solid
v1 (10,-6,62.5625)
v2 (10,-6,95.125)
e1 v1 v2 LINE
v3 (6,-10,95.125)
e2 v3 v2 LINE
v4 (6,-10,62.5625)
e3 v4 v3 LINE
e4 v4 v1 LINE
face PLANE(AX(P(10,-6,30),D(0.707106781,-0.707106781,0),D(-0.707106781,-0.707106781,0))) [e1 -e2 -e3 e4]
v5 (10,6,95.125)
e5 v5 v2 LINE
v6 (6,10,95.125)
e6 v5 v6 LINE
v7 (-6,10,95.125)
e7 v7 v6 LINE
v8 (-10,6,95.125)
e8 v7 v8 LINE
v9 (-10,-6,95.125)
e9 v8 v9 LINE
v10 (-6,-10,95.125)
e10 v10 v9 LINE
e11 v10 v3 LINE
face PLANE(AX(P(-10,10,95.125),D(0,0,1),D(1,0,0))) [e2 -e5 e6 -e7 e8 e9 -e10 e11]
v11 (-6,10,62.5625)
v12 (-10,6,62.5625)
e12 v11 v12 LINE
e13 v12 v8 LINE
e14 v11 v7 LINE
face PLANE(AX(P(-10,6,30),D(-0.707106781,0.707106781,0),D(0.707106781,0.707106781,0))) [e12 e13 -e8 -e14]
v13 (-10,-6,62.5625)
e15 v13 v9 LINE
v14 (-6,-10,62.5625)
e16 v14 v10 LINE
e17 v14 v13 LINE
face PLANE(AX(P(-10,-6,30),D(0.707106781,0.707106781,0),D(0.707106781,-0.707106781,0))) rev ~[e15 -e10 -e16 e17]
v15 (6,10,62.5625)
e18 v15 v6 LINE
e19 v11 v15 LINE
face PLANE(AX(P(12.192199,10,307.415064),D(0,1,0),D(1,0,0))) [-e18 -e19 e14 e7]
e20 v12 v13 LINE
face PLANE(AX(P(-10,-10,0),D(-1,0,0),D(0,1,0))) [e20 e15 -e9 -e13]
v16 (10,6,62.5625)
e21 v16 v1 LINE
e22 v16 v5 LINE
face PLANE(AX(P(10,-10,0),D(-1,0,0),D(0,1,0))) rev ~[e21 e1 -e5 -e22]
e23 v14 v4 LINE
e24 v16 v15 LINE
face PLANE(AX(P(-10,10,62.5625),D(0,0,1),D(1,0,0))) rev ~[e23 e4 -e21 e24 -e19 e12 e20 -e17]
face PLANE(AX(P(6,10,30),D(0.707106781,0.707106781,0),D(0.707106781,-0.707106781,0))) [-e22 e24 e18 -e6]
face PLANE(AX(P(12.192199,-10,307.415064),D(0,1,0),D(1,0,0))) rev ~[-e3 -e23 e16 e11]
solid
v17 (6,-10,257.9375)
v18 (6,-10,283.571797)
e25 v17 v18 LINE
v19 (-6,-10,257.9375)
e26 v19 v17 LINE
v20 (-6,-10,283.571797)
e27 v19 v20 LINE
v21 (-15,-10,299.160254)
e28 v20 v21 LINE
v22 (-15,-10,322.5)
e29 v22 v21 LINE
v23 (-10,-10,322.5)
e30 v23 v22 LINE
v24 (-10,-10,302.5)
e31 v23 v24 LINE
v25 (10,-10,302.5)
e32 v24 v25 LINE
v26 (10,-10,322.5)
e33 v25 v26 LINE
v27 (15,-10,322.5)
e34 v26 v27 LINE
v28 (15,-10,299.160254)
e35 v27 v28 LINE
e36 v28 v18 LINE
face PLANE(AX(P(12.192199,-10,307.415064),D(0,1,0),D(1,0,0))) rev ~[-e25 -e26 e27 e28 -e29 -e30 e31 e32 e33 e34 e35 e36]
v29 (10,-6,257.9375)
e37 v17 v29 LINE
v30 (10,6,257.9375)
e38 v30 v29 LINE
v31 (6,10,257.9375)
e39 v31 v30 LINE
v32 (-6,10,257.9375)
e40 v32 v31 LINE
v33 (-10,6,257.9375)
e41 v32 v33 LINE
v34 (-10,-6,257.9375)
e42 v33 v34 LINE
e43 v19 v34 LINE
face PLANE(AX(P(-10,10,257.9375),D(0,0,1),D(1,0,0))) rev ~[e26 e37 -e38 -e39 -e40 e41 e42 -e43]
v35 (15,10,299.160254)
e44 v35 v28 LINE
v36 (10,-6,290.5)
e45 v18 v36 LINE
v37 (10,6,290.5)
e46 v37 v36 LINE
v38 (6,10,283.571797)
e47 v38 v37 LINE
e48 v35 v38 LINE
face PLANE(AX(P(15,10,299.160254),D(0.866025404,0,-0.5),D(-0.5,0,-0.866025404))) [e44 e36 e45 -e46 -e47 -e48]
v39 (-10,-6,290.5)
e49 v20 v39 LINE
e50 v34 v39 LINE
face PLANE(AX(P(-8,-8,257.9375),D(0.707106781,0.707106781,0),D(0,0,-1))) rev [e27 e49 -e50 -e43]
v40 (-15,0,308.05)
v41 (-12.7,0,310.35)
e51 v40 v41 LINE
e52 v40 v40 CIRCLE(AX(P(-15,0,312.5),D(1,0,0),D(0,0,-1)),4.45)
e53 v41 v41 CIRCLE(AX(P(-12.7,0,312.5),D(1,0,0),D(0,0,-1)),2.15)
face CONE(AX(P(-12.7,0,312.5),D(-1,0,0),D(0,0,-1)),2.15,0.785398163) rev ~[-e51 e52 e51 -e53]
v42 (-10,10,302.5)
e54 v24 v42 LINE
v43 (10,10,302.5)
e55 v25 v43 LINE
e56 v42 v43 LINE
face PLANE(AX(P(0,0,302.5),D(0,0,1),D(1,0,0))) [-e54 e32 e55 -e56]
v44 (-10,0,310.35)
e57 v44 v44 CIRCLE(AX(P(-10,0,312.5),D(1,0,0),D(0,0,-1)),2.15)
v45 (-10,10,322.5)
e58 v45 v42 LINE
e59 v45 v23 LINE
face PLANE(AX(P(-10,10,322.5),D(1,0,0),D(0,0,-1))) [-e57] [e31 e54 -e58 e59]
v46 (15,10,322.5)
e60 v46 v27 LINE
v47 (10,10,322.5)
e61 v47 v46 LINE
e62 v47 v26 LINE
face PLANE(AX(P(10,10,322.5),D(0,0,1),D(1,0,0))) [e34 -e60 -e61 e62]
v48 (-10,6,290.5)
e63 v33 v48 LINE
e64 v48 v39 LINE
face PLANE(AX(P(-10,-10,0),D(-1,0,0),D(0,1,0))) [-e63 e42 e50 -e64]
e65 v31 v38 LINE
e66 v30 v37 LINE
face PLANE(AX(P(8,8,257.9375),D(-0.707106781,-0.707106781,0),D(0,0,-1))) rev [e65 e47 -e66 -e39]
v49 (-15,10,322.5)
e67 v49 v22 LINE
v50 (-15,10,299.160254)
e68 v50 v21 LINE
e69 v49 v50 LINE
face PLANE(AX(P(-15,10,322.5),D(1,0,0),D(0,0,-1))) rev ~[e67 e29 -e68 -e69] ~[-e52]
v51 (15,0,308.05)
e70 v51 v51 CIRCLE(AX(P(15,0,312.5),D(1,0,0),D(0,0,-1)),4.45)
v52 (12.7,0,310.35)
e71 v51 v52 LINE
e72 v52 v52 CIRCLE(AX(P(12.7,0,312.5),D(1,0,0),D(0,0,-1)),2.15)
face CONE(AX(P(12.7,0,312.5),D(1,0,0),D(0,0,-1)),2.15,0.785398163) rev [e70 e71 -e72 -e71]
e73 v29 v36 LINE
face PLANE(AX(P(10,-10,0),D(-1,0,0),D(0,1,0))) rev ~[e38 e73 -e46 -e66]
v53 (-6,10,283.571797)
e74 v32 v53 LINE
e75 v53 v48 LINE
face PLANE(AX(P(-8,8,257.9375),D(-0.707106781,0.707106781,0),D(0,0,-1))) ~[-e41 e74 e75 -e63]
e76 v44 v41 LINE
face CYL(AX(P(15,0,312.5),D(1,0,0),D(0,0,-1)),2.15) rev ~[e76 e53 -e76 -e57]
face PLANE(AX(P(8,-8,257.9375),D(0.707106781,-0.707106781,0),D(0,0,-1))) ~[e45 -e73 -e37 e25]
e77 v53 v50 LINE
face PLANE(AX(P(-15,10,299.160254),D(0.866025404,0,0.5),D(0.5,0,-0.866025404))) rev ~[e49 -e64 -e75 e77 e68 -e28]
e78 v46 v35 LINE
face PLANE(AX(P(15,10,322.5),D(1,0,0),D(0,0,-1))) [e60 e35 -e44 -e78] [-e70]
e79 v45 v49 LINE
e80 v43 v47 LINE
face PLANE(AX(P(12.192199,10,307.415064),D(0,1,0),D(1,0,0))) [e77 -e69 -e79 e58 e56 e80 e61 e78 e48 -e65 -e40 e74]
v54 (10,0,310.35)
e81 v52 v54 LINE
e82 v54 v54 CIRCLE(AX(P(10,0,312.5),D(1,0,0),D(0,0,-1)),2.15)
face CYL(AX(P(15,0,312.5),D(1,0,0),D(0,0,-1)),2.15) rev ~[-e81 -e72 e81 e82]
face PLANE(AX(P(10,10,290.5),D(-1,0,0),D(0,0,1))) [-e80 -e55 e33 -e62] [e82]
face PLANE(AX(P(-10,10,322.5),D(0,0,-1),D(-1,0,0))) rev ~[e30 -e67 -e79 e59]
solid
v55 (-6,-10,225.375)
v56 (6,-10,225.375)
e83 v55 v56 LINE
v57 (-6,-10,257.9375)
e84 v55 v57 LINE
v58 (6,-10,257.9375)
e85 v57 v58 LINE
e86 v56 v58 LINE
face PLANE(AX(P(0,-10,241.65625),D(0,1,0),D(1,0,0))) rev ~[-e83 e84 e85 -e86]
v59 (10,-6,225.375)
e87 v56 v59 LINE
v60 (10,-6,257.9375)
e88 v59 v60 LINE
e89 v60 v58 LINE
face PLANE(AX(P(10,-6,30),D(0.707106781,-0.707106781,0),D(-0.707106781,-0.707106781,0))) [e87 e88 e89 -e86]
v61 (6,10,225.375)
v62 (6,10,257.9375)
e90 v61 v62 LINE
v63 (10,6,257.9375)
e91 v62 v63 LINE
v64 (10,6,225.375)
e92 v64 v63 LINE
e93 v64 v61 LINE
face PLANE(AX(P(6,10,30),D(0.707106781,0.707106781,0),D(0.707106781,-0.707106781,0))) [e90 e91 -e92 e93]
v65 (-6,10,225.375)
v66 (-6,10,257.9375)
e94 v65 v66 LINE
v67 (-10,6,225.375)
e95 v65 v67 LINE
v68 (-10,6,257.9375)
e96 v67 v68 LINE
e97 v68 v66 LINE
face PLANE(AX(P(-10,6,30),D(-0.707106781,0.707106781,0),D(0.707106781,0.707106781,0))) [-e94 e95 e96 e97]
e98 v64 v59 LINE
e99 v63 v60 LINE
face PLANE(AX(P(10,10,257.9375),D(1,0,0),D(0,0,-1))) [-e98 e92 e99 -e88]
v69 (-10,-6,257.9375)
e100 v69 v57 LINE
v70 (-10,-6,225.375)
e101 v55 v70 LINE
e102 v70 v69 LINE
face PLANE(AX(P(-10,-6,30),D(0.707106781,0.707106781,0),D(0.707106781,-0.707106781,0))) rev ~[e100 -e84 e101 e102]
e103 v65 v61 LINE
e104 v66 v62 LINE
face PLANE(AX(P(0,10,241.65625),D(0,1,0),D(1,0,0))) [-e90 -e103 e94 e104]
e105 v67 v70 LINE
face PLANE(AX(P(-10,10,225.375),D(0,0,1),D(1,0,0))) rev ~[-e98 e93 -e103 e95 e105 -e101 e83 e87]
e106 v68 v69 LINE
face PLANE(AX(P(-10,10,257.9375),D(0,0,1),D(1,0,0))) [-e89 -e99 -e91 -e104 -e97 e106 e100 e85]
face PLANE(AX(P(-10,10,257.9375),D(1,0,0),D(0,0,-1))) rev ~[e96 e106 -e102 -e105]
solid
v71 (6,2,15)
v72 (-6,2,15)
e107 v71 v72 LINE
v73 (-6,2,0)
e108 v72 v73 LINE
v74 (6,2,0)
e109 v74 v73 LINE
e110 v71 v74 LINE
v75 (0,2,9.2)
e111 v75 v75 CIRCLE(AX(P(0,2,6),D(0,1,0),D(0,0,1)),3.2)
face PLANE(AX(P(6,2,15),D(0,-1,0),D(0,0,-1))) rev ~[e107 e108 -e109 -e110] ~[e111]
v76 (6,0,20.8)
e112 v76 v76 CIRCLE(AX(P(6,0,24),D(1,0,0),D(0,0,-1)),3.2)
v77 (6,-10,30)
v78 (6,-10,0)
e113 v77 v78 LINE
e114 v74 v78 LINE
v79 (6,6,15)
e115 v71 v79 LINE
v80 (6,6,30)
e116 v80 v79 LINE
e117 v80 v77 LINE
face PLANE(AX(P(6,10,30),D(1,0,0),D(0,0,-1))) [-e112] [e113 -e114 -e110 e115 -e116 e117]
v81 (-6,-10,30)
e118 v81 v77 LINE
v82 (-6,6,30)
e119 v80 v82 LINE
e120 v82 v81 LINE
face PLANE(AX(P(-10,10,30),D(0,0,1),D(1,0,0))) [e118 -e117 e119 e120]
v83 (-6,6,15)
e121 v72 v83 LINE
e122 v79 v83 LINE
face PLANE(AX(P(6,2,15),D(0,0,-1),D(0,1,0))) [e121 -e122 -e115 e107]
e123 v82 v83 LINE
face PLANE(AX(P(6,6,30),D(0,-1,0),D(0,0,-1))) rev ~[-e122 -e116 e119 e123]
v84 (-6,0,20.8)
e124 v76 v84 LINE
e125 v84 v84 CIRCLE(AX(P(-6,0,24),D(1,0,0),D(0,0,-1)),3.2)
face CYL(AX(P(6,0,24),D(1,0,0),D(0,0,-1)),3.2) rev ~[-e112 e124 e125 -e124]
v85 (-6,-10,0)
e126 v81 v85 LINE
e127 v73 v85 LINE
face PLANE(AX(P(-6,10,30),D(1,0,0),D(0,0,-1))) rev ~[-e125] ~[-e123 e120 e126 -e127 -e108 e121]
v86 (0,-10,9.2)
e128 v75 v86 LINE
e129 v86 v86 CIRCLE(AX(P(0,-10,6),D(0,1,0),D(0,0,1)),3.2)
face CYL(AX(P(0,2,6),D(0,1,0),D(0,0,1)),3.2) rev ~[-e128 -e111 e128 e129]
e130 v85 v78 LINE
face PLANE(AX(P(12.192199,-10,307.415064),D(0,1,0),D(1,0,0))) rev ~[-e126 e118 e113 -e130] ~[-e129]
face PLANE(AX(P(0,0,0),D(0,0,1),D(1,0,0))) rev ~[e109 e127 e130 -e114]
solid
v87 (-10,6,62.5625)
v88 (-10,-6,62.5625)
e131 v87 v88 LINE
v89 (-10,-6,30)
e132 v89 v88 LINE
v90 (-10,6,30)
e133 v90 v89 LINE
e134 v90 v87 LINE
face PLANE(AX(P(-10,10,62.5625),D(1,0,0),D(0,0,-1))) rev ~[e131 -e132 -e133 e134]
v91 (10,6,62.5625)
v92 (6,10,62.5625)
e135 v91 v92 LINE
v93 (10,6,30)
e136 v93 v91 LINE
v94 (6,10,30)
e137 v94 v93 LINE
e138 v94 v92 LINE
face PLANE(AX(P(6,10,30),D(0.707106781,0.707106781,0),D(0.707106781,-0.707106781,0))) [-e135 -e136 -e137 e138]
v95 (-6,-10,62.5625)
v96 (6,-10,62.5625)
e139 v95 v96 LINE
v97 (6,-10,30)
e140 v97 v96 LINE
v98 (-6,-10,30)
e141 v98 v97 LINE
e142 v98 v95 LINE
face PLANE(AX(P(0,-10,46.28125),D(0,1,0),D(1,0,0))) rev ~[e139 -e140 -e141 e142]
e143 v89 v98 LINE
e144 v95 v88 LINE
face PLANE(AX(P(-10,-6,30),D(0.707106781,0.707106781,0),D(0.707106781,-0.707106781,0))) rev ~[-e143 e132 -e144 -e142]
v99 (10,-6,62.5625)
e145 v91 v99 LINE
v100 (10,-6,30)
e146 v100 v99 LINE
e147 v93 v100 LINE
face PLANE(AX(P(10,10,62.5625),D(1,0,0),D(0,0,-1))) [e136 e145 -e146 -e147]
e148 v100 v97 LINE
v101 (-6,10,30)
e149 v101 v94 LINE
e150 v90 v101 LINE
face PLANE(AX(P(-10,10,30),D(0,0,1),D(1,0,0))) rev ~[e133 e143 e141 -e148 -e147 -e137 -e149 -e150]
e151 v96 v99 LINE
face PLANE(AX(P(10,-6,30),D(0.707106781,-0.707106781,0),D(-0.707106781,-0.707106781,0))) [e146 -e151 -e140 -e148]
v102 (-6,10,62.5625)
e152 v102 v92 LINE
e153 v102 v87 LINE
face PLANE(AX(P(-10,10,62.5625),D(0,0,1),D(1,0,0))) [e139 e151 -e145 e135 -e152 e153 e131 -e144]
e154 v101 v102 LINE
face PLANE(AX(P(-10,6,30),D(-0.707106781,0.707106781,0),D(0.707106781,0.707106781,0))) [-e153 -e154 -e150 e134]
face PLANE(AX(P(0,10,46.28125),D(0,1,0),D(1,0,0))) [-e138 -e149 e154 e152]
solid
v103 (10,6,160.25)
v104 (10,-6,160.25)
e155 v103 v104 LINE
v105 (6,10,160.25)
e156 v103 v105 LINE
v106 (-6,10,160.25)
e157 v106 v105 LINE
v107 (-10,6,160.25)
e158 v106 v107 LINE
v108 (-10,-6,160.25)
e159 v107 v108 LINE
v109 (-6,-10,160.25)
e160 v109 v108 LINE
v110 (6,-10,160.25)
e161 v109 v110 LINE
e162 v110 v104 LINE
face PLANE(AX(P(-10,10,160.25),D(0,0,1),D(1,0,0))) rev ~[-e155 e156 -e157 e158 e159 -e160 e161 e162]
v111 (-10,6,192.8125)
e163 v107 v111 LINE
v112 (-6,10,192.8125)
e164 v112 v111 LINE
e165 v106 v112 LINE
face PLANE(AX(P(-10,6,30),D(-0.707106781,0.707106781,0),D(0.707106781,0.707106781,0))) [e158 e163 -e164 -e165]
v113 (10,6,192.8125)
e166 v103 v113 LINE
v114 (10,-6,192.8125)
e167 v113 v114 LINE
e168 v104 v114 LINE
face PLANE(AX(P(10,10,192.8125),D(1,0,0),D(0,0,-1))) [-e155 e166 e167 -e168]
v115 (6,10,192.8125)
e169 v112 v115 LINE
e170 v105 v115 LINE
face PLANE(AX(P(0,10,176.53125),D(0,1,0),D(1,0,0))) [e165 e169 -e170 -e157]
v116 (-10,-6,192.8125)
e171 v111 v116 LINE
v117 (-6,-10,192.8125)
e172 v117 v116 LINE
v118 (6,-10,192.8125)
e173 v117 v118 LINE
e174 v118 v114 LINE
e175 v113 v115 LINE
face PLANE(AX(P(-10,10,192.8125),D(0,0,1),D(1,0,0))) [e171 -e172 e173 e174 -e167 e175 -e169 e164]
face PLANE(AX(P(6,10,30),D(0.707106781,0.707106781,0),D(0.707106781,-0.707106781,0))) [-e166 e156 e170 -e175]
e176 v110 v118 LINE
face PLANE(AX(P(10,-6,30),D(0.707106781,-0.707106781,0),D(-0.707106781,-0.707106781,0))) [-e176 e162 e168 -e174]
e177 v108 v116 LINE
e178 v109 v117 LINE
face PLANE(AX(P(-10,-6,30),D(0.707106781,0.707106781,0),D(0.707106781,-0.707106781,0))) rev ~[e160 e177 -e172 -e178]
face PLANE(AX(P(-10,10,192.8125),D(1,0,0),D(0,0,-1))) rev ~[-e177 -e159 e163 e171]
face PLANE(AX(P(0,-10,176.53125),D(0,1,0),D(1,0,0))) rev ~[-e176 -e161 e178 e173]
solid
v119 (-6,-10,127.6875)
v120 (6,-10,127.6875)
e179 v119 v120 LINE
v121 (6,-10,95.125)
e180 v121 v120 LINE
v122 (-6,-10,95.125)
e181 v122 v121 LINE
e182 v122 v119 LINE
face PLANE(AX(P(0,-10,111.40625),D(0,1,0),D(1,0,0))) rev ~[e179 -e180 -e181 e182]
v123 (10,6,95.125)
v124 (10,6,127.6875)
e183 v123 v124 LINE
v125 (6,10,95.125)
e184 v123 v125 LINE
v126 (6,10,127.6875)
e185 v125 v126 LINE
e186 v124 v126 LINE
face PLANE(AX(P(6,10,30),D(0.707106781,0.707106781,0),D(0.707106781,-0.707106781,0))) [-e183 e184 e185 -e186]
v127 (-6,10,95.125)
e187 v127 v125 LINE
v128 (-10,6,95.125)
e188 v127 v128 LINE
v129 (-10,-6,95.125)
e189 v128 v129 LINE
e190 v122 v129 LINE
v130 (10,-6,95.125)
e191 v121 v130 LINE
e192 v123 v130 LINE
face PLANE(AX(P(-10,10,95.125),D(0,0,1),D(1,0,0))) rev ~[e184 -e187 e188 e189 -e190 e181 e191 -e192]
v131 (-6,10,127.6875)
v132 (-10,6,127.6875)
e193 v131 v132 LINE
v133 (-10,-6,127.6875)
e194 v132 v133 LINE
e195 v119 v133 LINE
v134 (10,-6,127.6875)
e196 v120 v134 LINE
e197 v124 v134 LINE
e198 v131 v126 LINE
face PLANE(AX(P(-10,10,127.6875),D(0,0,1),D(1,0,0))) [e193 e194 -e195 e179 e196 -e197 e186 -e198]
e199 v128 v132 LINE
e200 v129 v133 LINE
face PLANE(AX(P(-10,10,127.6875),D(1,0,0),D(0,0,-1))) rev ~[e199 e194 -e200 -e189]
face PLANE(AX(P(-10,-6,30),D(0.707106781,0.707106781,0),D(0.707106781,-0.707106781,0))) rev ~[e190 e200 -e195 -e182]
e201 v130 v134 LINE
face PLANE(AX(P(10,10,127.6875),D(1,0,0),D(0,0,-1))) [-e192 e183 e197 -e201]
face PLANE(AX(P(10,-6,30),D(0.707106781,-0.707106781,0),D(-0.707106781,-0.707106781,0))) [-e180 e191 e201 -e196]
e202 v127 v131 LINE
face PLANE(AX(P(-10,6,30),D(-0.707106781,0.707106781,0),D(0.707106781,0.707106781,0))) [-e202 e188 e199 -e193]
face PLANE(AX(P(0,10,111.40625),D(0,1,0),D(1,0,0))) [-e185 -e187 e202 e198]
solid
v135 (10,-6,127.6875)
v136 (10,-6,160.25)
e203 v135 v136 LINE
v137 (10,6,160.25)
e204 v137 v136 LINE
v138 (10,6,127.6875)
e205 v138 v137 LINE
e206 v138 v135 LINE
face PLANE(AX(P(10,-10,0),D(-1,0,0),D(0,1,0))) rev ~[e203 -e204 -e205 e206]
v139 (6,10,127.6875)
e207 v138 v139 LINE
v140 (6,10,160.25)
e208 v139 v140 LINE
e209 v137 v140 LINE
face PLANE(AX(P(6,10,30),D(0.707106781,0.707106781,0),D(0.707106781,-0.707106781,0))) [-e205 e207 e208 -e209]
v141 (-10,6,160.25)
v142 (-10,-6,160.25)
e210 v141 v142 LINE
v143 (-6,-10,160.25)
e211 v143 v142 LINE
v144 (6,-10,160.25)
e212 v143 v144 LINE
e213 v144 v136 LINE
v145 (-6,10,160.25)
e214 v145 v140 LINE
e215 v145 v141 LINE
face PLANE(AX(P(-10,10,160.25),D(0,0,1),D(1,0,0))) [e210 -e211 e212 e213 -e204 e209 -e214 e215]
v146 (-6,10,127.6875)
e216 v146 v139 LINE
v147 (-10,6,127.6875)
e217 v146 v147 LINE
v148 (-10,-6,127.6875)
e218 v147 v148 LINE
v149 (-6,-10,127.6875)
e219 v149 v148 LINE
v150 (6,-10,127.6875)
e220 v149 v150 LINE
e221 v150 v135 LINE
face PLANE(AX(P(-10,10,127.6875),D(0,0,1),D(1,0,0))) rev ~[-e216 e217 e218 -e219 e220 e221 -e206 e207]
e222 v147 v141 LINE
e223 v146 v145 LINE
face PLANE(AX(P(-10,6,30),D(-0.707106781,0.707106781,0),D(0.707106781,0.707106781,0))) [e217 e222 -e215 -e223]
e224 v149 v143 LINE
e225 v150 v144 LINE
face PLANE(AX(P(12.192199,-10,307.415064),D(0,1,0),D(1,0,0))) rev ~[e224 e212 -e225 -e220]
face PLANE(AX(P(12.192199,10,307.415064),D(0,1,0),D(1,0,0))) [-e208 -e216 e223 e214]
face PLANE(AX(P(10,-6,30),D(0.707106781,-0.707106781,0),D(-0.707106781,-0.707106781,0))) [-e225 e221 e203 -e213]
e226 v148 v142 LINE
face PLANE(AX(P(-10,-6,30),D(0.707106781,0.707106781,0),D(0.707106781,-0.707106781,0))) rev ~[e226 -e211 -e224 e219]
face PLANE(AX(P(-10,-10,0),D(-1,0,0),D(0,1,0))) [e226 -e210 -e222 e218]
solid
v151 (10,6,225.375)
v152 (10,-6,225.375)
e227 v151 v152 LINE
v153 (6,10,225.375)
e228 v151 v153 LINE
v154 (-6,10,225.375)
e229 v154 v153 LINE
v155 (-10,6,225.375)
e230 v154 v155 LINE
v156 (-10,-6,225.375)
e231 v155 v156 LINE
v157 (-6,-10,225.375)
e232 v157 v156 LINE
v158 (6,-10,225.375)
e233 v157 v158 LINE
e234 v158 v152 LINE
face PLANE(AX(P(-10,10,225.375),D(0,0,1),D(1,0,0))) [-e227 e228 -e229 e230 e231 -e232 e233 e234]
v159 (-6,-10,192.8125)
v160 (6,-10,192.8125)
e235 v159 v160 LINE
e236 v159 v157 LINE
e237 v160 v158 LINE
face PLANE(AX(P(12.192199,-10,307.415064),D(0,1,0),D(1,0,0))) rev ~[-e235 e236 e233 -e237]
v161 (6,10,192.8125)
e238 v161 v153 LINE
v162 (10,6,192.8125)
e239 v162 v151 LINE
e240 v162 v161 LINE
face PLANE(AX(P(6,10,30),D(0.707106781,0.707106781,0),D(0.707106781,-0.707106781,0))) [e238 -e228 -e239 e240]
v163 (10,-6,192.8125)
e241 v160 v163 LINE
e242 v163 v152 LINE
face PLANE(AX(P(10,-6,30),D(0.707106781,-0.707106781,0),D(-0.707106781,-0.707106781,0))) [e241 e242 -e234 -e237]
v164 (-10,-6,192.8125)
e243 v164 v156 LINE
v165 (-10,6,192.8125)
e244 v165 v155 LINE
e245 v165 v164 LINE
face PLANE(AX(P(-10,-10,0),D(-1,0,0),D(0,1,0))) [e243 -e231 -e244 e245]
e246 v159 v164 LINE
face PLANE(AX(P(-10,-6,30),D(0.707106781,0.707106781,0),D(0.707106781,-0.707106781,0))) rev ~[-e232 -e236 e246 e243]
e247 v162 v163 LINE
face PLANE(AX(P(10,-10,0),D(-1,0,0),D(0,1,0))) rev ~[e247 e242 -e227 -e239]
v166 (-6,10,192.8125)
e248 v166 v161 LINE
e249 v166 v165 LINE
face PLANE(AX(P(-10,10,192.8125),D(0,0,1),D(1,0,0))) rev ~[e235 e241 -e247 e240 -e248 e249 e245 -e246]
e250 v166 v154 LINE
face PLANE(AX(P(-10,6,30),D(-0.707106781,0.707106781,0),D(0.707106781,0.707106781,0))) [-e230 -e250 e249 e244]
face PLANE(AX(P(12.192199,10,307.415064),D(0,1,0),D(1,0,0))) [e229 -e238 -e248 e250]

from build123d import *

# Parameters (mm, degrees)
SKETCH1_W             = 20
SKETCH1_H             = 20
BOSS_EXTRUDE1_DEPTH   = 302.5
BOSS_EXTRUDE2_DEPTH   = 20
SKETCH3_R             = 2.15
CUT_EXTRUDE1_DEPTH    = 325.046678736
SKETCH4_W             = 4
SKETCH4_H             = 30
CUT_EXTRUDE2_DEPTH    = 324.467540875
CHAMFER1_SIZE         = 2.3
SKETCH5_W             = 15
SKETCH5_H             = 8
CUT_EXTRUDE3_DEPTH    = 324.337671792
SKETCH6_R             = 3.2
CUT_EXTRUDE4_DEPTH    = 324.071586494
SKETCH7_R             = 3.2
CUT_EXTRUDE5_DEPTH    = 324.337671792
SKETCH10_W            = 20
SKETCH10_H            = 32.5625
CUT_EXTRUDE7_DEPTH    = 324.467540875
SKETCH11_W            = 20
SKETCH11_H            = 32.5625
BOSS_EXTRUDE3_DEPTH   = 20
BOSS_EXTRUDE3_2_DEPTH = 20
BOSS_EXTRUDE3_3_DEPTH = 20
BOSS_EXTRUDE3_4_DEPTH = 20
CHAMFER3_SIZE         = 4
CUT_EXTRUDE8_DEPTH    = 227.9375
SKETCH13_W            = 15
SKETCH13_H            = 4
CUT_EXTRUDE9_DEPTH    = 324.337671792


with BuildPart() as part:
    # Sketch1 → Boss-Extrude1 (new body)
    with BuildSketch(Plane.XY):
        Rectangle(SKETCH1_W, SKETCH1_H)
    extrude(amount=BOSS_EXTRUDE1_DEPTH)

    # Sketch2 → Boss-Extrude2 (add)
    with BuildSketch(Plane(origin=(0, 10, 0), x_dir=(1, 0, 0), z_dir=(0, 1, 0))):
        Polygon((10, -302.5), (10, -322.5), (15, -322.5), (15, -299.160254038), (10, -290.5), align=None)
        Polygon((-10, -290.5), (-10, -302.5), (-10, -322.5), (-15, -322.5), (-15, -299.160254038), align=None)
    extrude(amount=-BOSS_EXTRUDE2_DEPTH)

    # Sketch3 → Cut-Extrude1 (cut, through all)
    with BuildSketch(Plane(origin=(15, 0, 0), x_dir=(0, 0, -1), z_dir=(1, 0, 0))):
        with Locations((-312.5, 0)):
            Circle(SKETCH3_R)
    extrude(amount=-CUT_EXTRUDE1_DEPTH, mode=Mode.SUBTRACT)

    # Sketch4 → Cut-Extrude2 (cut, through all)
    with BuildSketch(Plane(origin=(0, 10, 0), x_dir=(1, 0, 0), z_dir=(0, 1, 0))):
        with Locations((-8, -15)):
            Rectangle(SKETCH4_W, SKETCH4_H)
        with Locations((8, -15)):
            Rectangle(SKETCH4_W, SKETCH4_H)
    extrude(amount=-CUT_EXTRUDE2_DEPTH, mode=Mode.SUBTRACT)

    # Chamfer1
    chamfer1_edges = [part.edges().sort_by_distance(p)[0] for p in [
        (-15, 0, 314.65),
        (15, 0, 314.65),
    ]]
    chamfer(chamfer1_edges, length=CHAMFER1_SIZE)

    # Sketch5 → Cut-Extrude3 (cut, through all)
    with BuildSketch(Plane(origin=(6, 0, 0), x_dir=(0, 0, -1), z_dir=(1, 0, 0))):
        with Locations((-7.5, 6)):
            Rectangle(SKETCH5_W, SKETCH5_H)
    extrude(amount=-CUT_EXTRUDE3_DEPTH, mode=Mode.SUBTRACT)

    # Sketch6 → Cut-Extrude4 (cut, through all)
    with BuildSketch(Plane(origin=(0, 2, 0), x_dir=(1, 0, 0), z_dir=(0, 1, 0))):
        with Locations(Location((0, -6, 0), (0, 0, 270))):
            Circle(SKETCH6_R)
    extrude(amount=-CUT_EXTRUDE4_DEPTH, mode=Mode.SUBTRACT)

    # Sketch7 → Cut-Extrude5 (cut, through all)
    with BuildSketch(Plane(origin=(6, 0, 0), x_dir=(0, 0, -1), z_dir=(1, 0, 0))):
        with Locations((-24, 0)):
            Circle(SKETCH7_R)
    extrude(amount=-CUT_EXTRUDE5_DEPTH, mode=Mode.SUBTRACT)

    # Sketch10 → Cut-Extrude7 (cut, through all)
    with BuildSketch(Plane(origin=(0, 10, 0), x_dir=(1, 0, 0), z_dir=(0, 1, 0))):
        with Locations((0, -46.28125)):
            Rectangle(SKETCH10_W, SKETCH10_H)
        with Locations((0, -111.40625)):
            Rectangle(SKETCH10_W, SKETCH10_H)
        with Locations((0, -176.53125)):
            Rectangle(SKETCH10_W, SKETCH10_H)
        with Locations((0, -241.65625)):
            Rectangle(SKETCH10_W, SKETCH10_H)
    extrude(amount=-CUT_EXTRUDE7_DEPTH, mode=Mode.SUBTRACT)


with BuildPart() as cut_extrude7_piece_1:
    # of the separate pieces the step leaves, piece 1, a body of its own (cut_extrude7_pieces)
    add(part.part.solids().sort_by_distance((15, 0, 308.05))[0])

    # Chamfer3
    chamfer3_edges = [cut_extrude7_piece_1.edges().sort_by_distance(p)[0] for p in [
        (10, 10, 274.21875),
        (-10, 10, 274.21875),
        (-10, -10, 274.21875),
        (10, -10, 274.21875),
    ]]
    chamfer(chamfer3_edges, length=CHAMFER3_SIZE)


with BuildPart() as cut_extrude7_piece_2:
    # of the separate pieces the step leaves, piece 2, a body of its own (cut_extrude7_pieces)
    add(part.part.solids().sort_by_distance((10, 10, 192.8125))[0])


with BuildPart() as cut_extrude7_piece_3:
    # of the separate pieces the step leaves, piece 3, a body of its own (cut_extrude7_pieces)
    add(part.part.solids().sort_by_distance((10, 10, 62.5625))[0])


with BuildPart() as cut_extrude7_piece_4:
    # of the separate pieces the step leaves, piece 4, a body of its own (cut_extrude7_pieces)
    add(part.part.solids().sort_by_distance((-10, 10, 127.6875))[0])


with BuildPart() as cut_extrude7_piece_5:
    # of the separate pieces the step leaves, piece 5, a body of its own (cut_extrude7_pieces)
    add(part.part.solids().sort_by_distance((6, 10, 15))[0])

    # Sketch13 → Cut-Extrude9 (cut, through all)
    with BuildSketch(Plane(origin=(6, 0, 0), x_dir=(0, 0, -1), z_dir=(1, 0, 0))):
        with Locations((-22.5, 8)):
            Rectangle(SKETCH13_W, SKETCH13_H)
    extrude(amount=-CUT_EXTRUDE9_DEPTH, mode=Mode.SUBTRACT)


with BuildPart() as body_6:
    # Sketch11 → Boss-Extrude3 (new body)
    with BuildSketch(Plane(origin=(0, 10, 0), x_dir=(1, 0, 0), z_dir=(0, 1, 0))):
        with Locations((0, -46.28125)):
            Rectangle(SKETCH11_W, SKETCH11_H)
    extrude(amount=-BOSS_EXTRUDE3_DEPTH)


with BuildPart() as body_7:
    # Sketch11 → Boss-Extrude3 2 (new body)
    with BuildSketch(Plane(origin=(0, 10, 0), x_dir=(1, 0, 0), z_dir=(0, 1, 0))):
        with Locations((0, -111.40625)):
            Rectangle(SKETCH11_W, SKETCH11_H)
    extrude(amount=-BOSS_EXTRUDE3_2_DEPTH)


with BuildPart() as body_8:
    # Sketch11 → Boss-Extrude3 3 (new body)
    with BuildSketch(Plane(origin=(0, 10, 0), x_dir=(1, 0, 0), z_dir=(0, 1, 0))):
        with Locations((0, -176.53125)):
            Rectangle(SKETCH11_W, SKETCH11_H)
    extrude(amount=-BOSS_EXTRUDE3_3_DEPTH)


with BuildPart() as body_9:
    # Sketch11 → Boss-Extrude3 4 (new body)
    with BuildSketch(Plane(origin=(0, 10, 0), x_dir=(1, 0, 0), z_dir=(0, 1, 0))):
        with Locations((0, -241.65625)):
            Rectangle(SKETCH11_W, SKETCH11_H)
    extrude(amount=-BOSS_EXTRUDE3_4_DEPTH)


with BuildPart() as cut_extrude8_tool:
    # Sketch12 → Cut-Extrude8 (new body)
    with BuildSketch(Plane(origin=(0, 0, 30), x_dir=(-1, 0, 0), z_dir=(0, 0, -1))):
        Polygon((-10, 10), (-6, 10), (-10, 6), align=None)
        Polygon((-10, -10), (-10, -6), (-6, -10), align=None)
        Polygon((6, 10), (10, 10), (10, 6), align=None)
        Polygon((10, -10), (10, -6), (6, -10), align=None)
    extrude(amount=-CUT_EXTRUDE8_DEPTH)


with BuildPart() as cut_extrude7_piece_2_1:
    add(cut_extrude7_piece_2.part)

    # Cut-Extrude8: cut by cut_extrude8_tool
    add(cut_extrude8_tool.part, mode=Mode.SUBTRACT)


with BuildPart() as cut_extrude7_piece_3_1:
    add(cut_extrude7_piece_3.part)

    # Cut-Extrude8: cut by cut_extrude8_tool
    add(cut_extrude8_tool.part, mode=Mode.SUBTRACT)


with BuildPart() as cut_extrude7_piece_4_1:
    add(cut_extrude7_piece_4.part)

    # Cut-Extrude8: cut by cut_extrude8_tool
    add(cut_extrude8_tool.part, mode=Mode.SUBTRACT)


with BuildPart() as body_6_1:
    add(body_6.part)

    # Cut-Extrude8: cut by cut_extrude8_tool
    add(cut_extrude8_tool.part, mode=Mode.SUBTRACT)


with BuildPart() as body_7_1:
    add(body_7.part)

    # Cut-Extrude8: cut by cut_extrude8_tool
    add(cut_extrude8_tool.part, mode=Mode.SUBTRACT)


with BuildPart() as body_8_1:
    add(body_8.part)

    # Cut-Extrude8: cut by cut_extrude8_tool
    add(cut_extrude8_tool.part, mode=Mode.SUBTRACT)


with BuildPart() as body_9_1:
    add(body_9.part)

    # Cut-Extrude8: cut by cut_extrude8_tool
    add(cut_extrude8_tool.part, mode=Mode.SUBTRACT)


solid = Compound([cut_extrude7_piece_1.part, cut_extrude7_piece_5.part, cut_extrude7_piece_2_1.part, cut_extrude7_piece_3_1.part, cut_extrude7_piece_4_1.part, body_6_1.part, body_7_1.part, body_8_1.part, body_9_1.part])
